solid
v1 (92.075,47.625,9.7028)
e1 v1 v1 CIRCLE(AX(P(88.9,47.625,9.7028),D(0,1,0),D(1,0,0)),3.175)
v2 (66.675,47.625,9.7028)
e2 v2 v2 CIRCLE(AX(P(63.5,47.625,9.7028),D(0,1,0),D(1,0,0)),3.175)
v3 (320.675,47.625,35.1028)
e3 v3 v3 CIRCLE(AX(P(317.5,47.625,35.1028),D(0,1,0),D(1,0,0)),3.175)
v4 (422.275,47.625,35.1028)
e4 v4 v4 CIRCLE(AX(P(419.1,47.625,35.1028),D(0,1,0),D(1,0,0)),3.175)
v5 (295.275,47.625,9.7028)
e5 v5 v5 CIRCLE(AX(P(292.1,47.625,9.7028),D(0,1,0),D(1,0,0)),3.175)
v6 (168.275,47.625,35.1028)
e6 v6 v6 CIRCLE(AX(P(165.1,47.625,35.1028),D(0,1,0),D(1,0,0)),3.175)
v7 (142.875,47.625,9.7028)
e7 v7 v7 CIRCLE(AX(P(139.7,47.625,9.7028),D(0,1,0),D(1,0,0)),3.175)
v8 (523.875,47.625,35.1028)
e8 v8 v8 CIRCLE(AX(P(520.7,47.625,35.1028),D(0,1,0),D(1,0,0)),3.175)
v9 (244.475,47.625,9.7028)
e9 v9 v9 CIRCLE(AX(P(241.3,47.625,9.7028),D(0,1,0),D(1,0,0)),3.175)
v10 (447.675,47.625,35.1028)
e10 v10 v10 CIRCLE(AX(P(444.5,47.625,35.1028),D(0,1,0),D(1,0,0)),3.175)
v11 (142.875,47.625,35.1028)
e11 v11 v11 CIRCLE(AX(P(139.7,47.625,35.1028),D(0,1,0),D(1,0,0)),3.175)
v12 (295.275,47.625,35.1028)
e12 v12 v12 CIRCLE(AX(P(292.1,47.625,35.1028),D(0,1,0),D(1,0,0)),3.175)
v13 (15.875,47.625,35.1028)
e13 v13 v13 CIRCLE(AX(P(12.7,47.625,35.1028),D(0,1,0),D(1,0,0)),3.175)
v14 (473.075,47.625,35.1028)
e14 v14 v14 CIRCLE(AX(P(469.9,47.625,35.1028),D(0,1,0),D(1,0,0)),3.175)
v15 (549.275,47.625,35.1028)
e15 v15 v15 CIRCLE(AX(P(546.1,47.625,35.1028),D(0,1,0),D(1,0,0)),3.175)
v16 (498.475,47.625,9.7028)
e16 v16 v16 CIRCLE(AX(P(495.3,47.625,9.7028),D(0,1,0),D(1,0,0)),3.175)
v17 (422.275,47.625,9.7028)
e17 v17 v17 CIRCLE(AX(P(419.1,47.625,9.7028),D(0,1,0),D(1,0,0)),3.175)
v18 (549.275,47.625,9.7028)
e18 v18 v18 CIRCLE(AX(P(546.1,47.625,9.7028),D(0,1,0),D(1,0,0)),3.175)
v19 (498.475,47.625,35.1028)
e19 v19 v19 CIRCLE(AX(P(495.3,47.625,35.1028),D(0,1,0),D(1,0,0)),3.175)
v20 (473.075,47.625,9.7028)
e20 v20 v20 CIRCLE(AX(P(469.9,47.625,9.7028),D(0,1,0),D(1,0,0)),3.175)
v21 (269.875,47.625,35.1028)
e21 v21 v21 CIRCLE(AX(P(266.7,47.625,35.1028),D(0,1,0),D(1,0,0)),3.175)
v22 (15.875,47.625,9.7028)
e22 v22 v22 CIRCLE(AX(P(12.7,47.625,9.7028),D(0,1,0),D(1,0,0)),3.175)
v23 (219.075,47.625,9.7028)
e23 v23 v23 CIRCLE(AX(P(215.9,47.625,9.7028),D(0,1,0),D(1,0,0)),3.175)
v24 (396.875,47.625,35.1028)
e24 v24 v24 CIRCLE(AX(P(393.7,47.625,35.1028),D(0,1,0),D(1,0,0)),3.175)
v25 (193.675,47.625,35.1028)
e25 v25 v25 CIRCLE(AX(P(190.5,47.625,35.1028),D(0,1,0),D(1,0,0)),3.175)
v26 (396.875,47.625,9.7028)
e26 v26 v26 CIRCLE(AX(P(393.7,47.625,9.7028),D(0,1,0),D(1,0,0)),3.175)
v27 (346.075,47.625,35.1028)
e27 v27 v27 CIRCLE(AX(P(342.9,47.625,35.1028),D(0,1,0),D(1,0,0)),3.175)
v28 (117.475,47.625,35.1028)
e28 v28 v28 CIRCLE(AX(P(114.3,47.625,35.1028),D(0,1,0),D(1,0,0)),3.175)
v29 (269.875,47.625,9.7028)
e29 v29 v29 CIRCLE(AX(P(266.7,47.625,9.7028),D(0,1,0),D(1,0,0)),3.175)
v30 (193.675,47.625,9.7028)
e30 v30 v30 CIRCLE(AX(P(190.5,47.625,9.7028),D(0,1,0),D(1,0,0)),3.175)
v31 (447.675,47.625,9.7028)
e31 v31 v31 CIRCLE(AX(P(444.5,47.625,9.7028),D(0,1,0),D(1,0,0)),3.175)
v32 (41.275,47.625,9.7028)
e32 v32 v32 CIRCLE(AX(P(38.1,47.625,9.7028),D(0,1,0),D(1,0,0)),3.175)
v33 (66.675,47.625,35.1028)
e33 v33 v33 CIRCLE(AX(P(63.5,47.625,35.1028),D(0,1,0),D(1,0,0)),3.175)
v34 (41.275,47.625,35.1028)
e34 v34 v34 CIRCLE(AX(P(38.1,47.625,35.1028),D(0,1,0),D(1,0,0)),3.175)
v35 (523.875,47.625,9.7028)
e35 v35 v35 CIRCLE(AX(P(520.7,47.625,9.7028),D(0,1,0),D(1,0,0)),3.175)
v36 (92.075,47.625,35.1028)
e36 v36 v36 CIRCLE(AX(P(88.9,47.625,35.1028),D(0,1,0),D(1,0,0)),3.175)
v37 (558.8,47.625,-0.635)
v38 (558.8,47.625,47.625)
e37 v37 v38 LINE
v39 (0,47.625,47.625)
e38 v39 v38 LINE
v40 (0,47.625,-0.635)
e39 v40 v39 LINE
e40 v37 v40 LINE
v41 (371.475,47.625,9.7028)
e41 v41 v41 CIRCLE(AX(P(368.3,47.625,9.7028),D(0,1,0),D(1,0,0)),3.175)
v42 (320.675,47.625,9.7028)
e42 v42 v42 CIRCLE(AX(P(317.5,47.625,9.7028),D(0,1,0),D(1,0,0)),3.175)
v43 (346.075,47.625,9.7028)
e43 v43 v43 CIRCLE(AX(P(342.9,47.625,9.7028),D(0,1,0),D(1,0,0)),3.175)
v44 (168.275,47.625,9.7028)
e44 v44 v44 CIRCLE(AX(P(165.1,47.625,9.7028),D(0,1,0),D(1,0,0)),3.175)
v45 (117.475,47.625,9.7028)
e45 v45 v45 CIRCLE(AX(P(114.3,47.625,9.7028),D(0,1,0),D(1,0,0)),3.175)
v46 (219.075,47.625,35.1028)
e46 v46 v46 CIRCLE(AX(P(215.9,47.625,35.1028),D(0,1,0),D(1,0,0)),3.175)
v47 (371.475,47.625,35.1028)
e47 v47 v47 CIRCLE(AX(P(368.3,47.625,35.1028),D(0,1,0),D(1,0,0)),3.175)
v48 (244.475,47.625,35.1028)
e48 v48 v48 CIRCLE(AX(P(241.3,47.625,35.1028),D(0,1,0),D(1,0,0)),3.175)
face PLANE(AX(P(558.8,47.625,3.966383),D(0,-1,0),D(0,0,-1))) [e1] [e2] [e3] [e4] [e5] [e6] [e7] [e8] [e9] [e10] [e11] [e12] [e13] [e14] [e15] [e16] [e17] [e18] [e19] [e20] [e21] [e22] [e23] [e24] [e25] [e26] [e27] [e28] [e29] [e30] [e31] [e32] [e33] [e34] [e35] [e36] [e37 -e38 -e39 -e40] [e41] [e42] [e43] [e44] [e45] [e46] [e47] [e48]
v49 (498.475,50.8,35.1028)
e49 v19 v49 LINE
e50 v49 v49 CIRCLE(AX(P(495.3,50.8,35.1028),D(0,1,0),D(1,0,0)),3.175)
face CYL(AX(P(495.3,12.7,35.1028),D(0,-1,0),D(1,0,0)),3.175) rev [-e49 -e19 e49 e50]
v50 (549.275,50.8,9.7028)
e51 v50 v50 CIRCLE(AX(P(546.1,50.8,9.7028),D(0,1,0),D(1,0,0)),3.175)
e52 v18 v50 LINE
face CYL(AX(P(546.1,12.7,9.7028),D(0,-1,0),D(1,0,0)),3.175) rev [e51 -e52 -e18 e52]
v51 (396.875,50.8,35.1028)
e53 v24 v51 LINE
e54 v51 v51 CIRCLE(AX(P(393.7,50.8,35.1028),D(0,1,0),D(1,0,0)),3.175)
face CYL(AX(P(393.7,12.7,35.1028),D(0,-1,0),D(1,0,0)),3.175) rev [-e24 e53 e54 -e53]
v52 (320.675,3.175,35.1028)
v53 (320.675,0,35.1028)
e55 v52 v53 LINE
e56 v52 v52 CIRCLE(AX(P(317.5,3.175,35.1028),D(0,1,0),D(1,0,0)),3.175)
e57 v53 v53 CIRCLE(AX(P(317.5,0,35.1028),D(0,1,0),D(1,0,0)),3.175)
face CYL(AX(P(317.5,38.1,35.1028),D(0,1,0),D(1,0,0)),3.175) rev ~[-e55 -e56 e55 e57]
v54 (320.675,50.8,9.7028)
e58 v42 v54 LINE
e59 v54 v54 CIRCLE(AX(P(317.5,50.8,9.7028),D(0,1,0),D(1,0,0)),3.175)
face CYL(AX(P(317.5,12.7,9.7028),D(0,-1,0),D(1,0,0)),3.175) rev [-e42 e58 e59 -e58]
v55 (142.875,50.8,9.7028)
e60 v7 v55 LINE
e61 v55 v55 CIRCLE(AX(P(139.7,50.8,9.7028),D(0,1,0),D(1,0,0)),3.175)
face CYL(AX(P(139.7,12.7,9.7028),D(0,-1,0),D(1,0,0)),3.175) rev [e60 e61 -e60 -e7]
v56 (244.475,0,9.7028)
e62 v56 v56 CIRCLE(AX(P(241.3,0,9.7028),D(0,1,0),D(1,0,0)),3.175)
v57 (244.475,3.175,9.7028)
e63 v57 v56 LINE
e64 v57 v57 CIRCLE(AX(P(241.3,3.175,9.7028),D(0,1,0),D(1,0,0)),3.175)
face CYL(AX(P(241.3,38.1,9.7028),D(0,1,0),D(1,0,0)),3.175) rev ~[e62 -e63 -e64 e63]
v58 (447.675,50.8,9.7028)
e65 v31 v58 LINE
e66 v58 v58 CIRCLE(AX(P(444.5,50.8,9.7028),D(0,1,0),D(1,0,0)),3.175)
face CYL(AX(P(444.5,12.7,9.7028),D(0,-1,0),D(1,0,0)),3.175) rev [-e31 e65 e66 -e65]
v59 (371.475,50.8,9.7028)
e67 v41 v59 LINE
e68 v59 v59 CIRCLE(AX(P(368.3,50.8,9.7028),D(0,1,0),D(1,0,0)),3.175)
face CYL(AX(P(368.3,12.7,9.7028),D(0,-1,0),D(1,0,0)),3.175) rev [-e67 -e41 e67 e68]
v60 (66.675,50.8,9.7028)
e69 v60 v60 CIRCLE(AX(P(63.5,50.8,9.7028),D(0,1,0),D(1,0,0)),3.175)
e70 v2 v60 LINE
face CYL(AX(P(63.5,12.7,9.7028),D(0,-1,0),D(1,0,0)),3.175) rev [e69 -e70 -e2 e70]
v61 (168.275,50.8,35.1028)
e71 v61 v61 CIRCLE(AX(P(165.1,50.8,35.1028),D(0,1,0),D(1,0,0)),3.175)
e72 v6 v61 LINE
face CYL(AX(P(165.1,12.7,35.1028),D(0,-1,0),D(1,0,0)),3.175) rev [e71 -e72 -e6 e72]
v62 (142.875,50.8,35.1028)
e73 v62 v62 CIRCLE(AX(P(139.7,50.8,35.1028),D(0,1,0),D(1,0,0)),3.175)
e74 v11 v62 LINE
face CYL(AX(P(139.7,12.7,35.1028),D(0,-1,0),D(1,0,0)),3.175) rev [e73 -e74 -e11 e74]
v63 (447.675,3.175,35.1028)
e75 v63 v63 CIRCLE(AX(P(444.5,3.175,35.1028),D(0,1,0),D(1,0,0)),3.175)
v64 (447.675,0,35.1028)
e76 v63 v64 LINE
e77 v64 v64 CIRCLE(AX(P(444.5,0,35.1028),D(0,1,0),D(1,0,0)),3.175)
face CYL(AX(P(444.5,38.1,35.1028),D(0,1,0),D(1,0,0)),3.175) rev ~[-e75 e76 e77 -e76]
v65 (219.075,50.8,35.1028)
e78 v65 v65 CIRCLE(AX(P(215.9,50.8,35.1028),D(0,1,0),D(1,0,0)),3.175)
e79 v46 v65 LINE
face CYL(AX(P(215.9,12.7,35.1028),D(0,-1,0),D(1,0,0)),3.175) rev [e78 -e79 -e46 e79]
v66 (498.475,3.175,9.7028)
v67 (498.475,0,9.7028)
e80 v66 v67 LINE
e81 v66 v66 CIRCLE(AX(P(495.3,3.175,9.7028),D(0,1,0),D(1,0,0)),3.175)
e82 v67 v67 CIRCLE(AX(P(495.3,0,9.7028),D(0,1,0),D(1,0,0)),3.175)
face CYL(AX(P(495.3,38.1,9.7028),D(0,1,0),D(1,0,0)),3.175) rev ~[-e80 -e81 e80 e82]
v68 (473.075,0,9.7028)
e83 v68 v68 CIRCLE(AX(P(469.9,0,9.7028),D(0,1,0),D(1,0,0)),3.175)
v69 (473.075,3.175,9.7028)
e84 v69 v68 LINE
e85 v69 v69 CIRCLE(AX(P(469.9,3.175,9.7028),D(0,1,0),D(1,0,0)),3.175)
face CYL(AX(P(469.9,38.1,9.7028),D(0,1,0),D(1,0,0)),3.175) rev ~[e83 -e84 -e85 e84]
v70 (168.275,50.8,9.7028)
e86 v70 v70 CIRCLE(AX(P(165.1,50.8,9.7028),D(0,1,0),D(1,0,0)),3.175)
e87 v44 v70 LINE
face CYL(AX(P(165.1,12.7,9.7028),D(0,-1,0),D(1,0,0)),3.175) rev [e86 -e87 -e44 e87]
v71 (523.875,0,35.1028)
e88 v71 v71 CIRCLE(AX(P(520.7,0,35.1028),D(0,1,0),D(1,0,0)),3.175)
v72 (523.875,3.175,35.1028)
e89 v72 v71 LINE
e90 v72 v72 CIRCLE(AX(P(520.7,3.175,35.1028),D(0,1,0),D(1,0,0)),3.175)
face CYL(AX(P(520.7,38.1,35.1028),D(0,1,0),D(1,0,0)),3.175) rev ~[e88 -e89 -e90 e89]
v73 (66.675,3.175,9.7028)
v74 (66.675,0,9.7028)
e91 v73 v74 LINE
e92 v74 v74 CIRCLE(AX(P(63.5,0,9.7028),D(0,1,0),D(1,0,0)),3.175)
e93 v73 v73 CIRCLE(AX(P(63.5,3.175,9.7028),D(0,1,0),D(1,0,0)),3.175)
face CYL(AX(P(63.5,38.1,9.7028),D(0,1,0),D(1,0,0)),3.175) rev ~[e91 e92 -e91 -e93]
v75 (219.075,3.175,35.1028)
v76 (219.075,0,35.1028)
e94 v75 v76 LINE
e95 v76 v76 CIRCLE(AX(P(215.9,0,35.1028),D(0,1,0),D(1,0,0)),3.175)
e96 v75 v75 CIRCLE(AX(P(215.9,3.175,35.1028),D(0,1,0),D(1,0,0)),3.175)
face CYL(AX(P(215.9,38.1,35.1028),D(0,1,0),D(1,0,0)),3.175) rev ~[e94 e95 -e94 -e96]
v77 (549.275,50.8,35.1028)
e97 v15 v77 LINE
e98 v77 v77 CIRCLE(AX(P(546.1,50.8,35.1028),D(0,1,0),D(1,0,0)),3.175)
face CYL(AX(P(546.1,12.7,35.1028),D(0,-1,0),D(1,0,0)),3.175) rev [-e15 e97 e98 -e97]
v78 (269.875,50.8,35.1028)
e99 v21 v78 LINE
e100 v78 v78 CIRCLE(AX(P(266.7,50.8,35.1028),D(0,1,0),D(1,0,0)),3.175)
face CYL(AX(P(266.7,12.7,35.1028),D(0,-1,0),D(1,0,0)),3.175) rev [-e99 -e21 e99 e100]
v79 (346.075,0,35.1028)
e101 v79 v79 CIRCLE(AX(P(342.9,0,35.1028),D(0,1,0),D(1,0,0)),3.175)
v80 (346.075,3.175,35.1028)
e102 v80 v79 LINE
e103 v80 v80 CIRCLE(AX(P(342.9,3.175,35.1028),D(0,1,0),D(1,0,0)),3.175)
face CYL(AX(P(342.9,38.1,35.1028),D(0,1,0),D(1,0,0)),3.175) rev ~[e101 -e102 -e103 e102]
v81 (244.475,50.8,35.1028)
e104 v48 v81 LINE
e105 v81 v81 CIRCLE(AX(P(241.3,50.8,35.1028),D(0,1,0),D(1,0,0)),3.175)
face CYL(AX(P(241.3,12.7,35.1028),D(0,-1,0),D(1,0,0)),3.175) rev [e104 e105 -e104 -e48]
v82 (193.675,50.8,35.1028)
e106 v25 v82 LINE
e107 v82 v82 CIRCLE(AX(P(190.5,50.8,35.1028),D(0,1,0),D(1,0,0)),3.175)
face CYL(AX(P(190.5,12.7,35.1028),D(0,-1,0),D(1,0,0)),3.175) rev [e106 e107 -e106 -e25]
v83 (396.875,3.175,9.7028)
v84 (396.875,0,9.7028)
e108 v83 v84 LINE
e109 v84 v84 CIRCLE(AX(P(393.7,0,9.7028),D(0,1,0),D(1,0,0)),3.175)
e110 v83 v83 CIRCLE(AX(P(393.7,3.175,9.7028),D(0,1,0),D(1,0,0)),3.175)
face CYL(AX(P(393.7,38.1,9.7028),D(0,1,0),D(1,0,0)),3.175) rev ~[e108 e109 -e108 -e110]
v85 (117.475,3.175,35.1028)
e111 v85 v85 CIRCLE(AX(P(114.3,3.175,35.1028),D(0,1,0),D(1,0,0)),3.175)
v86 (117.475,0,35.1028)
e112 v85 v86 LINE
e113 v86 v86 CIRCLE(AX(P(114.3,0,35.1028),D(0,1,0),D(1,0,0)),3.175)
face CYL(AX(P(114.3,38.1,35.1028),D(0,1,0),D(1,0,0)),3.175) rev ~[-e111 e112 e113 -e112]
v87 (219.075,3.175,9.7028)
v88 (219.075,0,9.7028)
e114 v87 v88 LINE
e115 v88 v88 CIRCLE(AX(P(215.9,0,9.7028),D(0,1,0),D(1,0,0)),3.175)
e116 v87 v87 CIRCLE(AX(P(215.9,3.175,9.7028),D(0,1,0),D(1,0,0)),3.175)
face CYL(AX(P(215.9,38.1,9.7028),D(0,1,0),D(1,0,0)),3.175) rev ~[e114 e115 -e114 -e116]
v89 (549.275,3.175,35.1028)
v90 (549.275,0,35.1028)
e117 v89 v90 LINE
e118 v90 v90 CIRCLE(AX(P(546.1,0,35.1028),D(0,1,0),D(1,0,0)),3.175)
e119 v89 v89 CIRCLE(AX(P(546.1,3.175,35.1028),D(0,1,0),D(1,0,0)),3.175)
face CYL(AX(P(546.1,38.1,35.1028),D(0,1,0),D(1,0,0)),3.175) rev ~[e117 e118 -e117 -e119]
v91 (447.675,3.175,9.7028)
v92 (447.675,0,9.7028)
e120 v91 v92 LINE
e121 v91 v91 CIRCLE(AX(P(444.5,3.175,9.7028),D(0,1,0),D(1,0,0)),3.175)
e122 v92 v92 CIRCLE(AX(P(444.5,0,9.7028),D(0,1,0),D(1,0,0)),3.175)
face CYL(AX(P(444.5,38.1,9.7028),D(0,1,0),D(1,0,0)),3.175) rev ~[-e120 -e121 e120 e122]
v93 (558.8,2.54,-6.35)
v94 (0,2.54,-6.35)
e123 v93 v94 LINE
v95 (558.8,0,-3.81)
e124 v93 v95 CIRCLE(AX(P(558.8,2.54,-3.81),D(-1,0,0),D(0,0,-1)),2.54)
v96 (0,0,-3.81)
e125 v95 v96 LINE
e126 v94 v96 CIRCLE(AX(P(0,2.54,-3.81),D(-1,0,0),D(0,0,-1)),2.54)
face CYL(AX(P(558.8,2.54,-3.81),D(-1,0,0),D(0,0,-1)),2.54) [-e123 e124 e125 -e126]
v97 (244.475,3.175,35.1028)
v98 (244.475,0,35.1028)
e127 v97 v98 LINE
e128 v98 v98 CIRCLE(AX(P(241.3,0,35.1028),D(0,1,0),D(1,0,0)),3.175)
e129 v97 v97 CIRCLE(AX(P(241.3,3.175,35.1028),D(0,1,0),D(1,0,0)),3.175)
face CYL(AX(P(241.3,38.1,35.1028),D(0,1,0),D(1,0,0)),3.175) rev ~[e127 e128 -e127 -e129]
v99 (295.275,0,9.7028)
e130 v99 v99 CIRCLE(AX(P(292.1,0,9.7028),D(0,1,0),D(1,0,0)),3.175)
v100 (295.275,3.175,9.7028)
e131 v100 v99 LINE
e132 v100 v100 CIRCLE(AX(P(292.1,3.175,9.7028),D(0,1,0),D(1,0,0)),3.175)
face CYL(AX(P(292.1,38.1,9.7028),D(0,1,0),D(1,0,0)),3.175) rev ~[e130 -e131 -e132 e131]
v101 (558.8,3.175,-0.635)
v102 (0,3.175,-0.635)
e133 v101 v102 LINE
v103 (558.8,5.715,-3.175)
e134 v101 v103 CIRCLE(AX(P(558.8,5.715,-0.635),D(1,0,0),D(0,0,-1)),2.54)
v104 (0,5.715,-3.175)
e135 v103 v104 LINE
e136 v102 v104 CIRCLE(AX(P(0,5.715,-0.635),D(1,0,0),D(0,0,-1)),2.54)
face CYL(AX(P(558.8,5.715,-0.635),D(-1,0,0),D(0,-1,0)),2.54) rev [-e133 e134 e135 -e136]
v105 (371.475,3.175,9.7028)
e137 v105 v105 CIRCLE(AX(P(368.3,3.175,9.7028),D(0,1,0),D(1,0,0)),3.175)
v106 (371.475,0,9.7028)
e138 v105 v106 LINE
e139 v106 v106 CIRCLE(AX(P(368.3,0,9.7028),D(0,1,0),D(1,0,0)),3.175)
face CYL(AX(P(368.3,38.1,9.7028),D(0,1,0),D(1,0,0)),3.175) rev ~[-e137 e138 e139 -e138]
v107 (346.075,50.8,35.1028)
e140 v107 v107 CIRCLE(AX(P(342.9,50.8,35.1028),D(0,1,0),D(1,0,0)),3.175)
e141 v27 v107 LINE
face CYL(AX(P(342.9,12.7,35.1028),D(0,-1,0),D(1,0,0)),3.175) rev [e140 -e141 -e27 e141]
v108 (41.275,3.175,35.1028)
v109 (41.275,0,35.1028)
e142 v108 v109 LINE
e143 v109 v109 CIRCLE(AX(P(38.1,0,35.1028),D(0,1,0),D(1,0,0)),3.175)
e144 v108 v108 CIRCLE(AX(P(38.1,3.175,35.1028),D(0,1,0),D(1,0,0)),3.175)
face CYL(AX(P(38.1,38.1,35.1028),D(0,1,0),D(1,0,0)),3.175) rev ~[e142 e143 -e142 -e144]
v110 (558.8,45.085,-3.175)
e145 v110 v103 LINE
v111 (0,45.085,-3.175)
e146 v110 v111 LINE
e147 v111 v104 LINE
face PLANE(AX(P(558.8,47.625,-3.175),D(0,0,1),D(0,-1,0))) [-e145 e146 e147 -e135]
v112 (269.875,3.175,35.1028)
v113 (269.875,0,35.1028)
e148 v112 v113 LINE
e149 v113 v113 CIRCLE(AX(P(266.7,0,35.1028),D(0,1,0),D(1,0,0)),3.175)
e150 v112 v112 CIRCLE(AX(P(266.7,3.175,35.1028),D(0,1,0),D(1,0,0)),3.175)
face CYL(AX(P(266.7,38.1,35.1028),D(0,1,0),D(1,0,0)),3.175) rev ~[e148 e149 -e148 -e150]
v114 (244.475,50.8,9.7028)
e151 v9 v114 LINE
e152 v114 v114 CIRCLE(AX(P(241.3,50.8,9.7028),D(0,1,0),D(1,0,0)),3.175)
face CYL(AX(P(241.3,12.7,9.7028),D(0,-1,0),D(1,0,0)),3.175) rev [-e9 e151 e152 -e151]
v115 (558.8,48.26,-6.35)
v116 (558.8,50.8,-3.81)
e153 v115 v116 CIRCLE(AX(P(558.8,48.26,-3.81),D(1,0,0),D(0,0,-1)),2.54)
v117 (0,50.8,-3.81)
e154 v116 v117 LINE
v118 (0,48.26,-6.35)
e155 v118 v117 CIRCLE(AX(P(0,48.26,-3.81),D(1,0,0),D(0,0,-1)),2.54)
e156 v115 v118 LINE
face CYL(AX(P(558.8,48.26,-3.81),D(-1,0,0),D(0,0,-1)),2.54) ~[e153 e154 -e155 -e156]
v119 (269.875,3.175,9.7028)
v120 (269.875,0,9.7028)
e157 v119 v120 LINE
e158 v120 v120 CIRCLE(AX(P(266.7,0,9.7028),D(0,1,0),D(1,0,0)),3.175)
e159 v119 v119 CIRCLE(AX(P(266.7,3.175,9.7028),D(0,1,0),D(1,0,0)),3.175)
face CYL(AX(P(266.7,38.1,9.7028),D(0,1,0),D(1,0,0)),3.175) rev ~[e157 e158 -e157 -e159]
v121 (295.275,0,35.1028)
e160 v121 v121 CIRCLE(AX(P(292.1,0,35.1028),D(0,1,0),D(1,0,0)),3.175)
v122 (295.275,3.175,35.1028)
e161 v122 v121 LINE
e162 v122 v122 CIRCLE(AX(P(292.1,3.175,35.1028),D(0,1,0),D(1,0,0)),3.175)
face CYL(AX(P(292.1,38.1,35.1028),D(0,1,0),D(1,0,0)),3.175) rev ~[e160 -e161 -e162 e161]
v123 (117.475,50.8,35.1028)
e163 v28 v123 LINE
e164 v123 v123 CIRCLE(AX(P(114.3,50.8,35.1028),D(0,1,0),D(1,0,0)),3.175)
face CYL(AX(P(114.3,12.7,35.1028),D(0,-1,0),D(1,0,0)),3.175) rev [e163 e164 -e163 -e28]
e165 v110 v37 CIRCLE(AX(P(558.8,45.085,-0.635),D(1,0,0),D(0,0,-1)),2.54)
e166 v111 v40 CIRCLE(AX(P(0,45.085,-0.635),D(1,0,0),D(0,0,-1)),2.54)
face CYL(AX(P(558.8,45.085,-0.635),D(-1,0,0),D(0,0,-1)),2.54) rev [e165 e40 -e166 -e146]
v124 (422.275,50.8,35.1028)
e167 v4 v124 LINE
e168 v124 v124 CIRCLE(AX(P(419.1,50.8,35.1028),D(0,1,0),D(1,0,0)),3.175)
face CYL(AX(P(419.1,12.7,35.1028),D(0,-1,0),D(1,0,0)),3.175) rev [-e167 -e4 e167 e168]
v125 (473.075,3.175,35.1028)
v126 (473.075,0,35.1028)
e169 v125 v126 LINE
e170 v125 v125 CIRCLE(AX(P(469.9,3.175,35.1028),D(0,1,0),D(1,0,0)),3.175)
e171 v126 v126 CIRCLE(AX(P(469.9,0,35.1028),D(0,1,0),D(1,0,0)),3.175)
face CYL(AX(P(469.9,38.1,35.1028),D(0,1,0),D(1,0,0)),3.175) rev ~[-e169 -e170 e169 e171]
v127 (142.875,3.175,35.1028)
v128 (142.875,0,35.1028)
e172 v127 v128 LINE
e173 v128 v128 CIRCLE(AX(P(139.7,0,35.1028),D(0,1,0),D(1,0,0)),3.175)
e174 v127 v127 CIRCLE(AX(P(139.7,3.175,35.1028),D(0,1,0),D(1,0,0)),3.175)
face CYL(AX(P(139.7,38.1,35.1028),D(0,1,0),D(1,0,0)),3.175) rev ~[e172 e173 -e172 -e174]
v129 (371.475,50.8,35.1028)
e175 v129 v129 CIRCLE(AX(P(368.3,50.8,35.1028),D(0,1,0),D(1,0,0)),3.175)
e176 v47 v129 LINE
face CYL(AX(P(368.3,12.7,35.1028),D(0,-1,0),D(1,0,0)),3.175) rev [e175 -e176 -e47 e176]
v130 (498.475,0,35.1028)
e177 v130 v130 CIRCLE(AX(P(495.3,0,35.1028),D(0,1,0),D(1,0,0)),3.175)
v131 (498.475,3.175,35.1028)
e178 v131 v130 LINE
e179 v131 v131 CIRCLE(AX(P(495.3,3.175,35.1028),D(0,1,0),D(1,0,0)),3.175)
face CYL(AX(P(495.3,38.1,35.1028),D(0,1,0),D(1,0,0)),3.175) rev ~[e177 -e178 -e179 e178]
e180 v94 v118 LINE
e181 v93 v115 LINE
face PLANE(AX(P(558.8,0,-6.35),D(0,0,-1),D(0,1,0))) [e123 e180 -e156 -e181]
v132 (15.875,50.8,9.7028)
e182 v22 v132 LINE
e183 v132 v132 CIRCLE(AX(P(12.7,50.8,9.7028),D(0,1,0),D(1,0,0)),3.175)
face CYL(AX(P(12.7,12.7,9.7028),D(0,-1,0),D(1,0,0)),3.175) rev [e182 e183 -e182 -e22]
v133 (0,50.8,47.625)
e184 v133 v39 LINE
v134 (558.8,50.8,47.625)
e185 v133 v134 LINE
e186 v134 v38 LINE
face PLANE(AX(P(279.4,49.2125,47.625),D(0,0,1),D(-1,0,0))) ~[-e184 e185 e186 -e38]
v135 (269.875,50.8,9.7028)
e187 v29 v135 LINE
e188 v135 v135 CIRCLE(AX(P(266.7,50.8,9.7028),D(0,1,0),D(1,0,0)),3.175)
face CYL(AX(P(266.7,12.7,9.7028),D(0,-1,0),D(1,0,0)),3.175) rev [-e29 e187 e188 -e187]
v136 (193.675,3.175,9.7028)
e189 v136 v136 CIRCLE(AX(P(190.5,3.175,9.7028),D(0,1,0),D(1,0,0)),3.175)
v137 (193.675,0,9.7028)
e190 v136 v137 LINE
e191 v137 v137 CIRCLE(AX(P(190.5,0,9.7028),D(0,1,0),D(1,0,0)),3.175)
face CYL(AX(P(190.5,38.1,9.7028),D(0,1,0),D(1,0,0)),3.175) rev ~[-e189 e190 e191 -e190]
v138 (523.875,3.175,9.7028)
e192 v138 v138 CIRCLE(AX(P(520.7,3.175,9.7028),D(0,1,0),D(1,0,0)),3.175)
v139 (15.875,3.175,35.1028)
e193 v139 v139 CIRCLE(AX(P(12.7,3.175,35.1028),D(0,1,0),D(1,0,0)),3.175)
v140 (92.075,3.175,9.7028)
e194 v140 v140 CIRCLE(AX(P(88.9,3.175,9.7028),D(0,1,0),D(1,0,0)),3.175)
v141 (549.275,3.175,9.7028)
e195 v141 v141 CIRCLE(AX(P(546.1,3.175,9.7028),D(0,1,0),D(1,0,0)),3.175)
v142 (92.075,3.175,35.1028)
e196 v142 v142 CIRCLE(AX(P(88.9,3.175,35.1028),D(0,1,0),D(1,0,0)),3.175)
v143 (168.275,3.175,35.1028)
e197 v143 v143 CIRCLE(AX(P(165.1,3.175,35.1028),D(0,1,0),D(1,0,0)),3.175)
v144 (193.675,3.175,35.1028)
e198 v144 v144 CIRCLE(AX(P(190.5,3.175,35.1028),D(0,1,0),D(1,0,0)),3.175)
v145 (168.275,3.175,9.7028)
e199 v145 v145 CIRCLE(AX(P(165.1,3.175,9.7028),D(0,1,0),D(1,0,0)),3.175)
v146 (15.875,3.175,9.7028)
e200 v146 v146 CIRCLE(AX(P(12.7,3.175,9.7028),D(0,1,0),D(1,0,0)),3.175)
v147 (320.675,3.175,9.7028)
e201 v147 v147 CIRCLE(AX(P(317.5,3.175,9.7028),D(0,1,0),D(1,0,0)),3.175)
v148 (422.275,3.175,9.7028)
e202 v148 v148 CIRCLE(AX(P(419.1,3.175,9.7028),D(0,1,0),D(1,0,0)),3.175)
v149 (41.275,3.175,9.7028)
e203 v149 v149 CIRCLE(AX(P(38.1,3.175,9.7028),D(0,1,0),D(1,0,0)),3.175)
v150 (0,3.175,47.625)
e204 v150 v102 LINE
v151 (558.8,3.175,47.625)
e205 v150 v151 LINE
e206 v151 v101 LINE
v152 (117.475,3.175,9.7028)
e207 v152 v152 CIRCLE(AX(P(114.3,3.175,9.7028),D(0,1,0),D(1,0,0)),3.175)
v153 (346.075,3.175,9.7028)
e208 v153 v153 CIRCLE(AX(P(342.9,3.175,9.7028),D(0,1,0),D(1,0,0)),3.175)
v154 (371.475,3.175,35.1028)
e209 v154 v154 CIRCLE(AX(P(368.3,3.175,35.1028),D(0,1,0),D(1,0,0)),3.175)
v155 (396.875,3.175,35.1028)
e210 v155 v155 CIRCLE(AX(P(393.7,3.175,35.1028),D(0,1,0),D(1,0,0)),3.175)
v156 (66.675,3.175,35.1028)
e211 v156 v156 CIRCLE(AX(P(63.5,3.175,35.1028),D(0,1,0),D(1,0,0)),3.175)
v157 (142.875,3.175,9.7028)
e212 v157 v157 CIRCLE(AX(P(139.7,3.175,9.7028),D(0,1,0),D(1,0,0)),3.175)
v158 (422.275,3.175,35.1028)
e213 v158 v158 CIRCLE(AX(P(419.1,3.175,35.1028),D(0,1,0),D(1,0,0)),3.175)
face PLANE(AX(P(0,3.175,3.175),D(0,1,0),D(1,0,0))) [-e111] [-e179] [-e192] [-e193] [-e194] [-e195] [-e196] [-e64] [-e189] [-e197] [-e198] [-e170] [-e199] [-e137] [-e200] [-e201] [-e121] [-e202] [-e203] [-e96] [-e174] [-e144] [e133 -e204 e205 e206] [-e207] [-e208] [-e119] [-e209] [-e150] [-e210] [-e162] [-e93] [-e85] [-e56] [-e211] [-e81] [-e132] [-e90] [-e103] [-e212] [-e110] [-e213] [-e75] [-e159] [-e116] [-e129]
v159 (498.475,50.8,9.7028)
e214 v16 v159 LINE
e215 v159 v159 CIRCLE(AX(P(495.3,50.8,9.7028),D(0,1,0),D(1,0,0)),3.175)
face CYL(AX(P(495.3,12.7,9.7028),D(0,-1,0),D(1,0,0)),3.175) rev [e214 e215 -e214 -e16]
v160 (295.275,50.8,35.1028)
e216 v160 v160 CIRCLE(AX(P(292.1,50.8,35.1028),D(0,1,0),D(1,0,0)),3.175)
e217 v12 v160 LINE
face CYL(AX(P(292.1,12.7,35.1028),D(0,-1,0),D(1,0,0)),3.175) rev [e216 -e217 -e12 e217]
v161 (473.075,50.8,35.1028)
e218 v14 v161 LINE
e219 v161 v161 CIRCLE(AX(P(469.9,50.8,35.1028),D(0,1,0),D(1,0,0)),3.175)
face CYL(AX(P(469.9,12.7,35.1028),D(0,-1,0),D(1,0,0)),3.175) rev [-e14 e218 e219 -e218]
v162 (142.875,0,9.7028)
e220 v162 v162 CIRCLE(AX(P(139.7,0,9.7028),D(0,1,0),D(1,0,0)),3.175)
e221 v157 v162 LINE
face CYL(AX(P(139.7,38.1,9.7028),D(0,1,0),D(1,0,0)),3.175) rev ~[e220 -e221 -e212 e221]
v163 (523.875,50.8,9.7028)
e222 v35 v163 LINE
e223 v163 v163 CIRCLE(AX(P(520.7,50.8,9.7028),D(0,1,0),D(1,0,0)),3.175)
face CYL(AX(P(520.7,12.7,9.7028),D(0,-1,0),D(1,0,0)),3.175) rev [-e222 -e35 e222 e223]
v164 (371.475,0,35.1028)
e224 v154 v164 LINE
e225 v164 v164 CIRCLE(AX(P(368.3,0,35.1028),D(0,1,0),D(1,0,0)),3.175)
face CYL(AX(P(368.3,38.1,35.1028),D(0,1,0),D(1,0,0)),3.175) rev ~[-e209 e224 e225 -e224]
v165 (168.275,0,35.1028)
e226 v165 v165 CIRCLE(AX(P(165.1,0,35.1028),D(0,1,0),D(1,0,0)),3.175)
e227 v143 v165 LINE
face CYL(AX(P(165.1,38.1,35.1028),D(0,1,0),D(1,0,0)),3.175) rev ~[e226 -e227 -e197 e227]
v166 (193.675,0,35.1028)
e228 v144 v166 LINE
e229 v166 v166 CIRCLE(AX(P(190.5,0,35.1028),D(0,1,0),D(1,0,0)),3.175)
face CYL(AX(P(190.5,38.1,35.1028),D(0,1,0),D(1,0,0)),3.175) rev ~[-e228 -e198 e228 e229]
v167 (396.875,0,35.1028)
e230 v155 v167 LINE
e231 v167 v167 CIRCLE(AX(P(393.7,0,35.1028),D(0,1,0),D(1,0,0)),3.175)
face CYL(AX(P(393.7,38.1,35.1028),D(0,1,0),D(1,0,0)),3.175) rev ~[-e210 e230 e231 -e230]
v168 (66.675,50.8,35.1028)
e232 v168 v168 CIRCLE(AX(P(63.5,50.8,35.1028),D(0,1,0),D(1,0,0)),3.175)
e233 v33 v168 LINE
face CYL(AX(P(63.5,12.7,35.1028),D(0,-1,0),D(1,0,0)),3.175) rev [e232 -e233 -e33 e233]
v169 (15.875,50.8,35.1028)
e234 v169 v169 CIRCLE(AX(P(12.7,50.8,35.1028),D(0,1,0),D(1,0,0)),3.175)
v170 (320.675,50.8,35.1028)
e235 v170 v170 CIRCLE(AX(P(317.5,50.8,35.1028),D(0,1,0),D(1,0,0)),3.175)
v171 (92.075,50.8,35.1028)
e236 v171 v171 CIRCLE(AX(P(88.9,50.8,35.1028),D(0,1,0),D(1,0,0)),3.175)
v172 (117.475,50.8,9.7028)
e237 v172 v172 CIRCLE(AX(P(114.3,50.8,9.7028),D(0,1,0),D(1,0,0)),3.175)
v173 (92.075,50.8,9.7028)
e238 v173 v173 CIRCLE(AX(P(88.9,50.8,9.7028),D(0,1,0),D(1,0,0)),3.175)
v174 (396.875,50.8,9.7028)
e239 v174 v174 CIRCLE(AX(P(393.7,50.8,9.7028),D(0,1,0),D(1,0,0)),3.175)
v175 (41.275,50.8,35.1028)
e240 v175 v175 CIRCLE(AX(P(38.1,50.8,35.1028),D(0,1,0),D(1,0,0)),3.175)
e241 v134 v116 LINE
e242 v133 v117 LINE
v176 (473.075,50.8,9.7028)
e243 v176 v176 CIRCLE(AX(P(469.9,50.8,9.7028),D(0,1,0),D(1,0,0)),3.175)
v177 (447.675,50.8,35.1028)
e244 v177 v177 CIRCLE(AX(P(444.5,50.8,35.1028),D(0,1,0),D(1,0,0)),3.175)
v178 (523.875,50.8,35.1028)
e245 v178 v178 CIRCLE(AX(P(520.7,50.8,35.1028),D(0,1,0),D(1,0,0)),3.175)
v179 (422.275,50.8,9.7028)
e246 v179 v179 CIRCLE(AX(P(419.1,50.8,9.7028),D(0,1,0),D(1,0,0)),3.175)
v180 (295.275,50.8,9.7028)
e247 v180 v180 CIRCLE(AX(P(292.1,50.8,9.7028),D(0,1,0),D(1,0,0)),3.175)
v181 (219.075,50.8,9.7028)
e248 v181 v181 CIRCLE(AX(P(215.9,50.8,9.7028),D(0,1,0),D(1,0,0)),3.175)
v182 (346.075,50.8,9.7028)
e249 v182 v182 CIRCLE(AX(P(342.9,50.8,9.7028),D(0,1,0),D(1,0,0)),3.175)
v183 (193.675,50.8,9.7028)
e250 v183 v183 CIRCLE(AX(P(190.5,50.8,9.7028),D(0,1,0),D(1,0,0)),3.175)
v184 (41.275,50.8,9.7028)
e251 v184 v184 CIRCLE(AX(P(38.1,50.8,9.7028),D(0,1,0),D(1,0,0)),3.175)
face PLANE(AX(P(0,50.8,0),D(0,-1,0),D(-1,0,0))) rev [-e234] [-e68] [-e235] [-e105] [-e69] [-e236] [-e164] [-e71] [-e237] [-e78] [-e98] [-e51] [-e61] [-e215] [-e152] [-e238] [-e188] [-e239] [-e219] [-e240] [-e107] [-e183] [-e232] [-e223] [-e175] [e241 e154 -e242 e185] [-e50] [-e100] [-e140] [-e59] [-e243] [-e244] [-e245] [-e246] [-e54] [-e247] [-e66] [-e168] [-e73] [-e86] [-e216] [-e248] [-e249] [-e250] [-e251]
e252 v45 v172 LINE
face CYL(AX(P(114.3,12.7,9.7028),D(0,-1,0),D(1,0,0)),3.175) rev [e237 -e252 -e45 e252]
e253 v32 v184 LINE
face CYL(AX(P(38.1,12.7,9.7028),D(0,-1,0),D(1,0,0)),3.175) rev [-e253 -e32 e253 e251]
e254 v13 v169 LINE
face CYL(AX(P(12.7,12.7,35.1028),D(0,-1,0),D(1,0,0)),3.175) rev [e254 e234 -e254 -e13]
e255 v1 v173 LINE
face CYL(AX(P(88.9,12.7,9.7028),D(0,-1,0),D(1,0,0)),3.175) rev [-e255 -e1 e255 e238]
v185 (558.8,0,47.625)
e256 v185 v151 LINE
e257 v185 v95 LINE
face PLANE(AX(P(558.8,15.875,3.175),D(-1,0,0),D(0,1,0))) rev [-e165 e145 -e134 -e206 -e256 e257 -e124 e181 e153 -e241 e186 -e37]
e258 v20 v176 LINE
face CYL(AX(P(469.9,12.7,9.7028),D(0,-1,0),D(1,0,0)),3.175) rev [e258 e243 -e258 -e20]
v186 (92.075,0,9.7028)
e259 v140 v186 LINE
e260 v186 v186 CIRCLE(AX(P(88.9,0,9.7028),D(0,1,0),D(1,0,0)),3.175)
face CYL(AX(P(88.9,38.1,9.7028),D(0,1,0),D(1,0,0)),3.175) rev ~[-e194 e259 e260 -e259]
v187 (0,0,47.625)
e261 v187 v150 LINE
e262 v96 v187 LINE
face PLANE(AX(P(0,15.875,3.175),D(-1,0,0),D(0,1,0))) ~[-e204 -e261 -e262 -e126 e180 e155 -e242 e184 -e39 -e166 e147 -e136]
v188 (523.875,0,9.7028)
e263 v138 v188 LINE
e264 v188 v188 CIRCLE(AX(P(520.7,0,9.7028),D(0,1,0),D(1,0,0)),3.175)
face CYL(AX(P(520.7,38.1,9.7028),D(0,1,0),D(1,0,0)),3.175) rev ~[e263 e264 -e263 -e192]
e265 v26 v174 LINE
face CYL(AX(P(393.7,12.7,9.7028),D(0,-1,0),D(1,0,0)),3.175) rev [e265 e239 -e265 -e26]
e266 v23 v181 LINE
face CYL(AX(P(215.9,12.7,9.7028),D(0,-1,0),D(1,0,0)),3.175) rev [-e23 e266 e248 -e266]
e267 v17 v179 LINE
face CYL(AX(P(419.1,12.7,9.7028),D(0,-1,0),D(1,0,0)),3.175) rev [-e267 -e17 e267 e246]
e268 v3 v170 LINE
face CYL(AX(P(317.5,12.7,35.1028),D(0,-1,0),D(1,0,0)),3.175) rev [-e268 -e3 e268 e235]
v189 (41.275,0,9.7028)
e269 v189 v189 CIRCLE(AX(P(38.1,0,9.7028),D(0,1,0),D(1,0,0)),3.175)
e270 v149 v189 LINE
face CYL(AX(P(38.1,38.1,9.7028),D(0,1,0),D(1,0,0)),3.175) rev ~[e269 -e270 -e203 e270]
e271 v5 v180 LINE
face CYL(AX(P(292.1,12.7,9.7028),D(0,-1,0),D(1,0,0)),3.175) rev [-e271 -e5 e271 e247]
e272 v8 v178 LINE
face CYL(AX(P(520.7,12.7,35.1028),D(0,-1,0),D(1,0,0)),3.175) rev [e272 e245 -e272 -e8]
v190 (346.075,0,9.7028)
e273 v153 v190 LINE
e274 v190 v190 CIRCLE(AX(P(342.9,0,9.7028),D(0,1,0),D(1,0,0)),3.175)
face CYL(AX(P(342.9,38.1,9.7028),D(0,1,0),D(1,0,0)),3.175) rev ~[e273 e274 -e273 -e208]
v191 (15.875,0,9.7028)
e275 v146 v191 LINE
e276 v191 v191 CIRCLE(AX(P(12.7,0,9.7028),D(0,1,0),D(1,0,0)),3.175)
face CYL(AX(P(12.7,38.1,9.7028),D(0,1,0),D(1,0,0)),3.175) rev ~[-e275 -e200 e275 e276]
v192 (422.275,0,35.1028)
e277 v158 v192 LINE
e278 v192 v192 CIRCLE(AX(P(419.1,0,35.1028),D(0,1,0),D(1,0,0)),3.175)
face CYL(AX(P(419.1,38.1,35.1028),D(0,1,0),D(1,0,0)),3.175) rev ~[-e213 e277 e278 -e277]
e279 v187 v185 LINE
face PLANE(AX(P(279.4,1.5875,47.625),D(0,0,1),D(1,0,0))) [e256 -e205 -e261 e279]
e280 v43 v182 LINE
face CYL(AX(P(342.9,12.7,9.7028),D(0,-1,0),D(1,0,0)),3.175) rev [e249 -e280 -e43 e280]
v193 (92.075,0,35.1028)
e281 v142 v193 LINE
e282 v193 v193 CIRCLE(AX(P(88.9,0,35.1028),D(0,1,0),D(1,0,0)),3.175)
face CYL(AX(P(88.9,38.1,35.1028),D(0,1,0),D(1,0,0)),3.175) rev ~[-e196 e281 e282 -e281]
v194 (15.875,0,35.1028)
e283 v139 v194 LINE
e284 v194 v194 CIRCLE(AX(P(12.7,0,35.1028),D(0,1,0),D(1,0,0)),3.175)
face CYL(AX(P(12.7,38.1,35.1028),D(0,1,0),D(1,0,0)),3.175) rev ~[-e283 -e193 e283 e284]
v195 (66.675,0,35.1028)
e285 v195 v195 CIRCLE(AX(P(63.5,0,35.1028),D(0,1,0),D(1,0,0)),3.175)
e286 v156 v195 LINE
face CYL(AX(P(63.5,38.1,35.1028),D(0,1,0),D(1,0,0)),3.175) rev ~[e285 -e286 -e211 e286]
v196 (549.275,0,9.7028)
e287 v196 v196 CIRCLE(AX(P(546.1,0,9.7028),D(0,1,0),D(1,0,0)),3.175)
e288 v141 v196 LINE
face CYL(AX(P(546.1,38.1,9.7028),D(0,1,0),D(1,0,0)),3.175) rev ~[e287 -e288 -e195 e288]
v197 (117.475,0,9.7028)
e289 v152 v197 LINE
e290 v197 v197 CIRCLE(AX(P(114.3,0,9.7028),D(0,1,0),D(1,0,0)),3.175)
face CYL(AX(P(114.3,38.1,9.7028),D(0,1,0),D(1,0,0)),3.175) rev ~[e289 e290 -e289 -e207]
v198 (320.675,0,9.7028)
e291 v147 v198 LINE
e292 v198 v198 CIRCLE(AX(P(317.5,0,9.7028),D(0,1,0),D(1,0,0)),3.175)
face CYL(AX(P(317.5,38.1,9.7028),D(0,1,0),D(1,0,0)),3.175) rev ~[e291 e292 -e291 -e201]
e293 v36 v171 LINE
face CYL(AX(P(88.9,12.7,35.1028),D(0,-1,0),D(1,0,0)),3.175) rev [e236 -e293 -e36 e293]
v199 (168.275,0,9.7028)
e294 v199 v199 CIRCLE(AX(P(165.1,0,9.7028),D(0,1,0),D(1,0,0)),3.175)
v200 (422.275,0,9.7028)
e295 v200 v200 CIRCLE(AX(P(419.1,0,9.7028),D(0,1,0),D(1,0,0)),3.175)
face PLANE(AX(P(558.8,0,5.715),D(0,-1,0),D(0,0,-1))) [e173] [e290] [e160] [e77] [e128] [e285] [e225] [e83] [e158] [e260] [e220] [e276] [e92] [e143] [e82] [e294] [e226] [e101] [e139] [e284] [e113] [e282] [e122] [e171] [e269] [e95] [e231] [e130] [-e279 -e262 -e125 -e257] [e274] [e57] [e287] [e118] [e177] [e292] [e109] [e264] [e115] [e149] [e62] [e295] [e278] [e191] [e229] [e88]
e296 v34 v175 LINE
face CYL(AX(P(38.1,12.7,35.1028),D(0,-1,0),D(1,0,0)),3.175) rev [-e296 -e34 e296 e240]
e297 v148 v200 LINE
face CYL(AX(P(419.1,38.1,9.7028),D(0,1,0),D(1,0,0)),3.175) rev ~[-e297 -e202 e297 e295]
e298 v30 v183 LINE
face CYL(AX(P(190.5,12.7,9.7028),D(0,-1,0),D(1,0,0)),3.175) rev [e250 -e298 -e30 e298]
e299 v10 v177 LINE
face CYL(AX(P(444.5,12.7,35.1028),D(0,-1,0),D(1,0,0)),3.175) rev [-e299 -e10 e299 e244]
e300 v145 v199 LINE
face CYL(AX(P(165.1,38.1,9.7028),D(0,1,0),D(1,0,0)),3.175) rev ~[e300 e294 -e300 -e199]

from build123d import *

# Parameters (mm, degrees)
SKETCH1_W           = 558.8
SKETCH1_H           = 38.1
BOSS_EXTRUDE1_DEPTH = 3.175
SKETCH2_W           = 558.8
SKETCH2_H           = 3.175
BOSS_EXTRUDE2_DEPTH = 44.45
FILLET1_R           = 2.54
SKETCH3_R           = 3.175
CUT_EXTRUDE1_DEPTH  = 44.45
CUT_EXTRUDE2_DEPTH  = 650.113
BOSS_EXTRUDE3_DEPTH = 558.8
SKETCH6_W           = 32.897959938
SKETCH6_H           = 44.45
CUT_EXTRUDE3_DEPTH  = 558.8
FILLET2_R           = 2.54


with BuildPart() as part:
    # Sketch1 → Boss-Extrude1 (new body)
    with BuildSketch(Plane.XY):
        with Locations((279.4, 19.05)):
            Rectangle(SKETCH1_W, SKETCH1_H)
    extrude(amount=BOSS_EXTRUDE1_DEPTH)

    # Sketch2 → Boss-Extrude2 (add)
    with BuildSketch(Plane.XY.offset(3.175)):
        with Locations((279.4, 36.5125)):
            Rectangle(SKETCH2_W, SKETCH2_H)
        with Locations((279.4, 1.5875)):
            Rectangle(SKETCH2_W, SKETCH2_H)
    extrude(amount=BOSS_EXTRUDE2_DEPTH)

    # Fillet1
    fillet1_edges = [part.edges().sort_by_distance(p)[0] for p in [
        (279.4, 34.925, 3.175),
        (279.4, 3.175, 3.175),
        (279.4, 0, 0),
        (279.4, 38.1, 0),
    ]]
    fillet(fillet1_edges, radius=FILLET1_R)

    # Sketch3 → Cut-Extrude1 (cut)
    with BuildSketch(Plane(origin=(0, 38.1, 0), x_dir=(1, 0, 0), z_dir=(0, 1, 0))):
        with Locations((12.7, -35.1028)):
            Circle(SKETCH3_R)
        with Locations((38.1, -35.1028)):
            Circle(SKETCH3_R)
        with Locations((63.5, -35.1028)):
            Circle(SKETCH3_R)
        with Locations((88.9, -35.1028)):
            Circle(SKETCH3_R)
        with Locations((114.3, -35.1028)):
            Circle(SKETCH3_R)
        with Locations((139.7, -35.1028)):
            Circle(SKETCH3_R)
        with Locations((165.1, -35.1028)):
            Circle(SKETCH3_R)
        with Locations((190.5, -35.1028)):
            Circle(SKETCH3_R)
        with Locations((215.9, -35.1028)):
            Circle(SKETCH3_R)
        with Locations((241.3, -35.1028)):
            Circle(SKETCH3_R)
        with Locations((266.7, -35.1028)):
            Circle(SKETCH3_R)
        with Locations((292.1, -35.1028)):
            Circle(SKETCH3_R)
        with Locations((317.5, -35.1028)):
            Circle(SKETCH3_R)
        with Locations((342.9, -35.1028)):
            Circle(SKETCH3_R)
        with Locations((368.3, -35.1028)):
            Circle(SKETCH3_R)
        with Locations((393.7, -35.1028)):
            Circle(SKETCH3_R)
        with Locations((419.1, -35.1028)):
            Circle(SKETCH3_R)
        with Locations((444.5, -35.1028)):
            Circle(SKETCH3_R)
        with Locations((469.9, -35.1028)):
            Circle(SKETCH3_R)
        with Locations((495.3, -35.1028)):
            Circle(SKETCH3_R)
        with Locations((520.7, -35.1028)):
            Circle(SKETCH3_R)
        with Locations((546.1, -35.1028)):
            Circle(SKETCH3_R)
        with Locations((38.1, -9.7028)):
            Circle(SKETCH3_R)
        with Locations((63.5, -9.7028)):
            Circle(SKETCH3_R)
        with Locations((88.9, -9.7028)):
            Circle(SKETCH3_R)
        with Locations((114.3, -9.7028)):
            Circle(SKETCH3_R)
        with Locations((139.7, -9.7028)):
            Circle(SKETCH3_R)
        with Locations((165.1, -9.7028)):
            Circle(SKETCH3_R)
        with Locations((190.5, -9.7028)):
            Circle(SKETCH3_R)
        with Locations((215.9, -9.7028)):
            Circle(SKETCH3_R)
        with Locations((241.3, -9.7028)):
            Circle(SKETCH3_R)
        with Locations((266.7, -9.7028)):
            Circle(SKETCH3_R)
        with Locations((292.1, -9.7028)):
            Circle(SKETCH3_R)
        with Locations((317.5, -9.7028)):
            Circle(SKETCH3_R)
        with Locations((342.9, -9.7028)):
            Circle(SKETCH3_R)
        with Locations((368.3, -9.7028)):
            Circle(SKETCH3_R)
        with Locations((393.7, -9.7028)):
            Circle(SKETCH3_R)
        with Locations((419.1, -9.7028)):
            Circle(SKETCH3_R)
        with Locations((444.5, -9.7028)):
            Circle(SKETCH3_R)
        with Locations((469.9, -9.7028)):
            Circle(SKETCH3_R)
        with Locations((495.3, -9.7028)):
            Circle(SKETCH3_R)
        with Locations((520.7, -9.7028)):
            Circle(SKETCH3_R)
        with Locations((546.1, -9.7028)):
            Circle(SKETCH3_R)
        with Locations((12.7, -9.7028)):
            Circle(SKETCH3_R)
    extrude(amount=-CUT_EXTRUDE1_DEPTH, mode=Mode.SUBTRACT)

    # Sketch4 → Cut-Extrude2 (cut)
    with BuildSketch(Plane(origin=(558.8, 0, 0), x_dir=(0, 0, -1), z_dir=(1, 0, 0))):
        Polygon((-2.54, 25.4), (13.885485297, 25.4), (13.885485297, 51.082453825), (-54.332543736, 51.082453825), (-54.332543736, 25.4), align=None)
    extrude(amount=-CUT_EXTRUDE2_DEPTH, mode=Mode.SUBTRACT)

    # Mirror1: part across plane


with BuildPart() as part_1:
    add(part.part)
    add(part.part.mirror(Plane(origin=(-91.313, 25.4, 2.54), x_dir=(0, 0, 1), z_dir=(0, -1, 0))))

    # Sketch5 → Boss-Extrude3 (add)
    with BuildSketch(Plane(origin=(558.8, 0, 0), x_dir=(0, 0, -1), z_dir=(1, 0, 0))):
        with BuildLine():
            Line((3.175, 50.8), (-2.54, 50.8))
            ThreePointArc((-2.54, 50.8), (-0.743948776, 50.056051224), (0, 48.26))
            Line((0, 48.26), (0, 47.625))
            Line((0, 47.625), (3.175, 47.625))
            Line((3.175, 47.625), (3.175, 50.8))
        make_face()
        with BuildLine():
            Line((-2.54, 50.8), (-3.966383497, 50.8))
            Line((-3.966383497, 50.8), (-3.966383497, 47.625))
            Line((-3.966383497, 47.625), (0, 47.625))
            Line((0, 47.625), (0, 48.26))
            ThreePointArc((0, 48.26), (-0.743948776, 50.056051224), (-2.54, 50.8))
        make_face()
        Polygon((6.35, 50.8), (3.175, 50.8), (3.175, 47.625), (3.175, 3.175), (3.175, 0), (6.35, 0), align=None)
        with BuildLine():
            ThreePointArc((0, 2.54), (-0.743948776, 0.743948776), (-2.54, 0))
            Line((-2.54, 0), (3.175, 0))
            Line((3.175, 0), (3.175, 3.175))
            Line((3.175, 3.175), (0, 3.175))
            Line((0, 3.175), (0, 2.54))
        make_face()
        with BuildLine():
            Line((-5.715, 3.175), (-5.715, 0))
            Line((-5.715, 0), (-2.54, 0))
            ThreePointArc((-2.54, 0), (-0.743948776, 0.743948776), (0, 2.54))
            Line((0, 2.54), (0, 3.175))
            Line((0, 3.175), (-5.715, 3.175))
        make_face()
    extrude(amount=-BOSS_EXTRUDE3_DEPTH)

    # Sketch6 → Cut-Extrude3 (cut)
    with BuildSketch(Plane(origin=(558.8, 0, 0), x_dir=(0, 0, -1), z_dir=(1, 0, 0))):
        with Locations((-13.273979969, 25.4)):
            Rectangle(SKETCH6_W, SKETCH6_H)
    extrude(amount=-CUT_EXTRUDE3_DEPTH, mode=Mode.SUBTRACT)

    # Fillet2
    fillet2_edges = [part_1.edges().sort_by_distance(p)[0] for p in [
        (279.4, 0, -6.35),
        (279.4, 3.175, -3.175),
        (279.4, 47.625, -3.175),
        (279.4, 50.8, -6.35),
    ]]
    fillet(fillet2_edges, radius=FILLET2_R)


solid = part_1.part
